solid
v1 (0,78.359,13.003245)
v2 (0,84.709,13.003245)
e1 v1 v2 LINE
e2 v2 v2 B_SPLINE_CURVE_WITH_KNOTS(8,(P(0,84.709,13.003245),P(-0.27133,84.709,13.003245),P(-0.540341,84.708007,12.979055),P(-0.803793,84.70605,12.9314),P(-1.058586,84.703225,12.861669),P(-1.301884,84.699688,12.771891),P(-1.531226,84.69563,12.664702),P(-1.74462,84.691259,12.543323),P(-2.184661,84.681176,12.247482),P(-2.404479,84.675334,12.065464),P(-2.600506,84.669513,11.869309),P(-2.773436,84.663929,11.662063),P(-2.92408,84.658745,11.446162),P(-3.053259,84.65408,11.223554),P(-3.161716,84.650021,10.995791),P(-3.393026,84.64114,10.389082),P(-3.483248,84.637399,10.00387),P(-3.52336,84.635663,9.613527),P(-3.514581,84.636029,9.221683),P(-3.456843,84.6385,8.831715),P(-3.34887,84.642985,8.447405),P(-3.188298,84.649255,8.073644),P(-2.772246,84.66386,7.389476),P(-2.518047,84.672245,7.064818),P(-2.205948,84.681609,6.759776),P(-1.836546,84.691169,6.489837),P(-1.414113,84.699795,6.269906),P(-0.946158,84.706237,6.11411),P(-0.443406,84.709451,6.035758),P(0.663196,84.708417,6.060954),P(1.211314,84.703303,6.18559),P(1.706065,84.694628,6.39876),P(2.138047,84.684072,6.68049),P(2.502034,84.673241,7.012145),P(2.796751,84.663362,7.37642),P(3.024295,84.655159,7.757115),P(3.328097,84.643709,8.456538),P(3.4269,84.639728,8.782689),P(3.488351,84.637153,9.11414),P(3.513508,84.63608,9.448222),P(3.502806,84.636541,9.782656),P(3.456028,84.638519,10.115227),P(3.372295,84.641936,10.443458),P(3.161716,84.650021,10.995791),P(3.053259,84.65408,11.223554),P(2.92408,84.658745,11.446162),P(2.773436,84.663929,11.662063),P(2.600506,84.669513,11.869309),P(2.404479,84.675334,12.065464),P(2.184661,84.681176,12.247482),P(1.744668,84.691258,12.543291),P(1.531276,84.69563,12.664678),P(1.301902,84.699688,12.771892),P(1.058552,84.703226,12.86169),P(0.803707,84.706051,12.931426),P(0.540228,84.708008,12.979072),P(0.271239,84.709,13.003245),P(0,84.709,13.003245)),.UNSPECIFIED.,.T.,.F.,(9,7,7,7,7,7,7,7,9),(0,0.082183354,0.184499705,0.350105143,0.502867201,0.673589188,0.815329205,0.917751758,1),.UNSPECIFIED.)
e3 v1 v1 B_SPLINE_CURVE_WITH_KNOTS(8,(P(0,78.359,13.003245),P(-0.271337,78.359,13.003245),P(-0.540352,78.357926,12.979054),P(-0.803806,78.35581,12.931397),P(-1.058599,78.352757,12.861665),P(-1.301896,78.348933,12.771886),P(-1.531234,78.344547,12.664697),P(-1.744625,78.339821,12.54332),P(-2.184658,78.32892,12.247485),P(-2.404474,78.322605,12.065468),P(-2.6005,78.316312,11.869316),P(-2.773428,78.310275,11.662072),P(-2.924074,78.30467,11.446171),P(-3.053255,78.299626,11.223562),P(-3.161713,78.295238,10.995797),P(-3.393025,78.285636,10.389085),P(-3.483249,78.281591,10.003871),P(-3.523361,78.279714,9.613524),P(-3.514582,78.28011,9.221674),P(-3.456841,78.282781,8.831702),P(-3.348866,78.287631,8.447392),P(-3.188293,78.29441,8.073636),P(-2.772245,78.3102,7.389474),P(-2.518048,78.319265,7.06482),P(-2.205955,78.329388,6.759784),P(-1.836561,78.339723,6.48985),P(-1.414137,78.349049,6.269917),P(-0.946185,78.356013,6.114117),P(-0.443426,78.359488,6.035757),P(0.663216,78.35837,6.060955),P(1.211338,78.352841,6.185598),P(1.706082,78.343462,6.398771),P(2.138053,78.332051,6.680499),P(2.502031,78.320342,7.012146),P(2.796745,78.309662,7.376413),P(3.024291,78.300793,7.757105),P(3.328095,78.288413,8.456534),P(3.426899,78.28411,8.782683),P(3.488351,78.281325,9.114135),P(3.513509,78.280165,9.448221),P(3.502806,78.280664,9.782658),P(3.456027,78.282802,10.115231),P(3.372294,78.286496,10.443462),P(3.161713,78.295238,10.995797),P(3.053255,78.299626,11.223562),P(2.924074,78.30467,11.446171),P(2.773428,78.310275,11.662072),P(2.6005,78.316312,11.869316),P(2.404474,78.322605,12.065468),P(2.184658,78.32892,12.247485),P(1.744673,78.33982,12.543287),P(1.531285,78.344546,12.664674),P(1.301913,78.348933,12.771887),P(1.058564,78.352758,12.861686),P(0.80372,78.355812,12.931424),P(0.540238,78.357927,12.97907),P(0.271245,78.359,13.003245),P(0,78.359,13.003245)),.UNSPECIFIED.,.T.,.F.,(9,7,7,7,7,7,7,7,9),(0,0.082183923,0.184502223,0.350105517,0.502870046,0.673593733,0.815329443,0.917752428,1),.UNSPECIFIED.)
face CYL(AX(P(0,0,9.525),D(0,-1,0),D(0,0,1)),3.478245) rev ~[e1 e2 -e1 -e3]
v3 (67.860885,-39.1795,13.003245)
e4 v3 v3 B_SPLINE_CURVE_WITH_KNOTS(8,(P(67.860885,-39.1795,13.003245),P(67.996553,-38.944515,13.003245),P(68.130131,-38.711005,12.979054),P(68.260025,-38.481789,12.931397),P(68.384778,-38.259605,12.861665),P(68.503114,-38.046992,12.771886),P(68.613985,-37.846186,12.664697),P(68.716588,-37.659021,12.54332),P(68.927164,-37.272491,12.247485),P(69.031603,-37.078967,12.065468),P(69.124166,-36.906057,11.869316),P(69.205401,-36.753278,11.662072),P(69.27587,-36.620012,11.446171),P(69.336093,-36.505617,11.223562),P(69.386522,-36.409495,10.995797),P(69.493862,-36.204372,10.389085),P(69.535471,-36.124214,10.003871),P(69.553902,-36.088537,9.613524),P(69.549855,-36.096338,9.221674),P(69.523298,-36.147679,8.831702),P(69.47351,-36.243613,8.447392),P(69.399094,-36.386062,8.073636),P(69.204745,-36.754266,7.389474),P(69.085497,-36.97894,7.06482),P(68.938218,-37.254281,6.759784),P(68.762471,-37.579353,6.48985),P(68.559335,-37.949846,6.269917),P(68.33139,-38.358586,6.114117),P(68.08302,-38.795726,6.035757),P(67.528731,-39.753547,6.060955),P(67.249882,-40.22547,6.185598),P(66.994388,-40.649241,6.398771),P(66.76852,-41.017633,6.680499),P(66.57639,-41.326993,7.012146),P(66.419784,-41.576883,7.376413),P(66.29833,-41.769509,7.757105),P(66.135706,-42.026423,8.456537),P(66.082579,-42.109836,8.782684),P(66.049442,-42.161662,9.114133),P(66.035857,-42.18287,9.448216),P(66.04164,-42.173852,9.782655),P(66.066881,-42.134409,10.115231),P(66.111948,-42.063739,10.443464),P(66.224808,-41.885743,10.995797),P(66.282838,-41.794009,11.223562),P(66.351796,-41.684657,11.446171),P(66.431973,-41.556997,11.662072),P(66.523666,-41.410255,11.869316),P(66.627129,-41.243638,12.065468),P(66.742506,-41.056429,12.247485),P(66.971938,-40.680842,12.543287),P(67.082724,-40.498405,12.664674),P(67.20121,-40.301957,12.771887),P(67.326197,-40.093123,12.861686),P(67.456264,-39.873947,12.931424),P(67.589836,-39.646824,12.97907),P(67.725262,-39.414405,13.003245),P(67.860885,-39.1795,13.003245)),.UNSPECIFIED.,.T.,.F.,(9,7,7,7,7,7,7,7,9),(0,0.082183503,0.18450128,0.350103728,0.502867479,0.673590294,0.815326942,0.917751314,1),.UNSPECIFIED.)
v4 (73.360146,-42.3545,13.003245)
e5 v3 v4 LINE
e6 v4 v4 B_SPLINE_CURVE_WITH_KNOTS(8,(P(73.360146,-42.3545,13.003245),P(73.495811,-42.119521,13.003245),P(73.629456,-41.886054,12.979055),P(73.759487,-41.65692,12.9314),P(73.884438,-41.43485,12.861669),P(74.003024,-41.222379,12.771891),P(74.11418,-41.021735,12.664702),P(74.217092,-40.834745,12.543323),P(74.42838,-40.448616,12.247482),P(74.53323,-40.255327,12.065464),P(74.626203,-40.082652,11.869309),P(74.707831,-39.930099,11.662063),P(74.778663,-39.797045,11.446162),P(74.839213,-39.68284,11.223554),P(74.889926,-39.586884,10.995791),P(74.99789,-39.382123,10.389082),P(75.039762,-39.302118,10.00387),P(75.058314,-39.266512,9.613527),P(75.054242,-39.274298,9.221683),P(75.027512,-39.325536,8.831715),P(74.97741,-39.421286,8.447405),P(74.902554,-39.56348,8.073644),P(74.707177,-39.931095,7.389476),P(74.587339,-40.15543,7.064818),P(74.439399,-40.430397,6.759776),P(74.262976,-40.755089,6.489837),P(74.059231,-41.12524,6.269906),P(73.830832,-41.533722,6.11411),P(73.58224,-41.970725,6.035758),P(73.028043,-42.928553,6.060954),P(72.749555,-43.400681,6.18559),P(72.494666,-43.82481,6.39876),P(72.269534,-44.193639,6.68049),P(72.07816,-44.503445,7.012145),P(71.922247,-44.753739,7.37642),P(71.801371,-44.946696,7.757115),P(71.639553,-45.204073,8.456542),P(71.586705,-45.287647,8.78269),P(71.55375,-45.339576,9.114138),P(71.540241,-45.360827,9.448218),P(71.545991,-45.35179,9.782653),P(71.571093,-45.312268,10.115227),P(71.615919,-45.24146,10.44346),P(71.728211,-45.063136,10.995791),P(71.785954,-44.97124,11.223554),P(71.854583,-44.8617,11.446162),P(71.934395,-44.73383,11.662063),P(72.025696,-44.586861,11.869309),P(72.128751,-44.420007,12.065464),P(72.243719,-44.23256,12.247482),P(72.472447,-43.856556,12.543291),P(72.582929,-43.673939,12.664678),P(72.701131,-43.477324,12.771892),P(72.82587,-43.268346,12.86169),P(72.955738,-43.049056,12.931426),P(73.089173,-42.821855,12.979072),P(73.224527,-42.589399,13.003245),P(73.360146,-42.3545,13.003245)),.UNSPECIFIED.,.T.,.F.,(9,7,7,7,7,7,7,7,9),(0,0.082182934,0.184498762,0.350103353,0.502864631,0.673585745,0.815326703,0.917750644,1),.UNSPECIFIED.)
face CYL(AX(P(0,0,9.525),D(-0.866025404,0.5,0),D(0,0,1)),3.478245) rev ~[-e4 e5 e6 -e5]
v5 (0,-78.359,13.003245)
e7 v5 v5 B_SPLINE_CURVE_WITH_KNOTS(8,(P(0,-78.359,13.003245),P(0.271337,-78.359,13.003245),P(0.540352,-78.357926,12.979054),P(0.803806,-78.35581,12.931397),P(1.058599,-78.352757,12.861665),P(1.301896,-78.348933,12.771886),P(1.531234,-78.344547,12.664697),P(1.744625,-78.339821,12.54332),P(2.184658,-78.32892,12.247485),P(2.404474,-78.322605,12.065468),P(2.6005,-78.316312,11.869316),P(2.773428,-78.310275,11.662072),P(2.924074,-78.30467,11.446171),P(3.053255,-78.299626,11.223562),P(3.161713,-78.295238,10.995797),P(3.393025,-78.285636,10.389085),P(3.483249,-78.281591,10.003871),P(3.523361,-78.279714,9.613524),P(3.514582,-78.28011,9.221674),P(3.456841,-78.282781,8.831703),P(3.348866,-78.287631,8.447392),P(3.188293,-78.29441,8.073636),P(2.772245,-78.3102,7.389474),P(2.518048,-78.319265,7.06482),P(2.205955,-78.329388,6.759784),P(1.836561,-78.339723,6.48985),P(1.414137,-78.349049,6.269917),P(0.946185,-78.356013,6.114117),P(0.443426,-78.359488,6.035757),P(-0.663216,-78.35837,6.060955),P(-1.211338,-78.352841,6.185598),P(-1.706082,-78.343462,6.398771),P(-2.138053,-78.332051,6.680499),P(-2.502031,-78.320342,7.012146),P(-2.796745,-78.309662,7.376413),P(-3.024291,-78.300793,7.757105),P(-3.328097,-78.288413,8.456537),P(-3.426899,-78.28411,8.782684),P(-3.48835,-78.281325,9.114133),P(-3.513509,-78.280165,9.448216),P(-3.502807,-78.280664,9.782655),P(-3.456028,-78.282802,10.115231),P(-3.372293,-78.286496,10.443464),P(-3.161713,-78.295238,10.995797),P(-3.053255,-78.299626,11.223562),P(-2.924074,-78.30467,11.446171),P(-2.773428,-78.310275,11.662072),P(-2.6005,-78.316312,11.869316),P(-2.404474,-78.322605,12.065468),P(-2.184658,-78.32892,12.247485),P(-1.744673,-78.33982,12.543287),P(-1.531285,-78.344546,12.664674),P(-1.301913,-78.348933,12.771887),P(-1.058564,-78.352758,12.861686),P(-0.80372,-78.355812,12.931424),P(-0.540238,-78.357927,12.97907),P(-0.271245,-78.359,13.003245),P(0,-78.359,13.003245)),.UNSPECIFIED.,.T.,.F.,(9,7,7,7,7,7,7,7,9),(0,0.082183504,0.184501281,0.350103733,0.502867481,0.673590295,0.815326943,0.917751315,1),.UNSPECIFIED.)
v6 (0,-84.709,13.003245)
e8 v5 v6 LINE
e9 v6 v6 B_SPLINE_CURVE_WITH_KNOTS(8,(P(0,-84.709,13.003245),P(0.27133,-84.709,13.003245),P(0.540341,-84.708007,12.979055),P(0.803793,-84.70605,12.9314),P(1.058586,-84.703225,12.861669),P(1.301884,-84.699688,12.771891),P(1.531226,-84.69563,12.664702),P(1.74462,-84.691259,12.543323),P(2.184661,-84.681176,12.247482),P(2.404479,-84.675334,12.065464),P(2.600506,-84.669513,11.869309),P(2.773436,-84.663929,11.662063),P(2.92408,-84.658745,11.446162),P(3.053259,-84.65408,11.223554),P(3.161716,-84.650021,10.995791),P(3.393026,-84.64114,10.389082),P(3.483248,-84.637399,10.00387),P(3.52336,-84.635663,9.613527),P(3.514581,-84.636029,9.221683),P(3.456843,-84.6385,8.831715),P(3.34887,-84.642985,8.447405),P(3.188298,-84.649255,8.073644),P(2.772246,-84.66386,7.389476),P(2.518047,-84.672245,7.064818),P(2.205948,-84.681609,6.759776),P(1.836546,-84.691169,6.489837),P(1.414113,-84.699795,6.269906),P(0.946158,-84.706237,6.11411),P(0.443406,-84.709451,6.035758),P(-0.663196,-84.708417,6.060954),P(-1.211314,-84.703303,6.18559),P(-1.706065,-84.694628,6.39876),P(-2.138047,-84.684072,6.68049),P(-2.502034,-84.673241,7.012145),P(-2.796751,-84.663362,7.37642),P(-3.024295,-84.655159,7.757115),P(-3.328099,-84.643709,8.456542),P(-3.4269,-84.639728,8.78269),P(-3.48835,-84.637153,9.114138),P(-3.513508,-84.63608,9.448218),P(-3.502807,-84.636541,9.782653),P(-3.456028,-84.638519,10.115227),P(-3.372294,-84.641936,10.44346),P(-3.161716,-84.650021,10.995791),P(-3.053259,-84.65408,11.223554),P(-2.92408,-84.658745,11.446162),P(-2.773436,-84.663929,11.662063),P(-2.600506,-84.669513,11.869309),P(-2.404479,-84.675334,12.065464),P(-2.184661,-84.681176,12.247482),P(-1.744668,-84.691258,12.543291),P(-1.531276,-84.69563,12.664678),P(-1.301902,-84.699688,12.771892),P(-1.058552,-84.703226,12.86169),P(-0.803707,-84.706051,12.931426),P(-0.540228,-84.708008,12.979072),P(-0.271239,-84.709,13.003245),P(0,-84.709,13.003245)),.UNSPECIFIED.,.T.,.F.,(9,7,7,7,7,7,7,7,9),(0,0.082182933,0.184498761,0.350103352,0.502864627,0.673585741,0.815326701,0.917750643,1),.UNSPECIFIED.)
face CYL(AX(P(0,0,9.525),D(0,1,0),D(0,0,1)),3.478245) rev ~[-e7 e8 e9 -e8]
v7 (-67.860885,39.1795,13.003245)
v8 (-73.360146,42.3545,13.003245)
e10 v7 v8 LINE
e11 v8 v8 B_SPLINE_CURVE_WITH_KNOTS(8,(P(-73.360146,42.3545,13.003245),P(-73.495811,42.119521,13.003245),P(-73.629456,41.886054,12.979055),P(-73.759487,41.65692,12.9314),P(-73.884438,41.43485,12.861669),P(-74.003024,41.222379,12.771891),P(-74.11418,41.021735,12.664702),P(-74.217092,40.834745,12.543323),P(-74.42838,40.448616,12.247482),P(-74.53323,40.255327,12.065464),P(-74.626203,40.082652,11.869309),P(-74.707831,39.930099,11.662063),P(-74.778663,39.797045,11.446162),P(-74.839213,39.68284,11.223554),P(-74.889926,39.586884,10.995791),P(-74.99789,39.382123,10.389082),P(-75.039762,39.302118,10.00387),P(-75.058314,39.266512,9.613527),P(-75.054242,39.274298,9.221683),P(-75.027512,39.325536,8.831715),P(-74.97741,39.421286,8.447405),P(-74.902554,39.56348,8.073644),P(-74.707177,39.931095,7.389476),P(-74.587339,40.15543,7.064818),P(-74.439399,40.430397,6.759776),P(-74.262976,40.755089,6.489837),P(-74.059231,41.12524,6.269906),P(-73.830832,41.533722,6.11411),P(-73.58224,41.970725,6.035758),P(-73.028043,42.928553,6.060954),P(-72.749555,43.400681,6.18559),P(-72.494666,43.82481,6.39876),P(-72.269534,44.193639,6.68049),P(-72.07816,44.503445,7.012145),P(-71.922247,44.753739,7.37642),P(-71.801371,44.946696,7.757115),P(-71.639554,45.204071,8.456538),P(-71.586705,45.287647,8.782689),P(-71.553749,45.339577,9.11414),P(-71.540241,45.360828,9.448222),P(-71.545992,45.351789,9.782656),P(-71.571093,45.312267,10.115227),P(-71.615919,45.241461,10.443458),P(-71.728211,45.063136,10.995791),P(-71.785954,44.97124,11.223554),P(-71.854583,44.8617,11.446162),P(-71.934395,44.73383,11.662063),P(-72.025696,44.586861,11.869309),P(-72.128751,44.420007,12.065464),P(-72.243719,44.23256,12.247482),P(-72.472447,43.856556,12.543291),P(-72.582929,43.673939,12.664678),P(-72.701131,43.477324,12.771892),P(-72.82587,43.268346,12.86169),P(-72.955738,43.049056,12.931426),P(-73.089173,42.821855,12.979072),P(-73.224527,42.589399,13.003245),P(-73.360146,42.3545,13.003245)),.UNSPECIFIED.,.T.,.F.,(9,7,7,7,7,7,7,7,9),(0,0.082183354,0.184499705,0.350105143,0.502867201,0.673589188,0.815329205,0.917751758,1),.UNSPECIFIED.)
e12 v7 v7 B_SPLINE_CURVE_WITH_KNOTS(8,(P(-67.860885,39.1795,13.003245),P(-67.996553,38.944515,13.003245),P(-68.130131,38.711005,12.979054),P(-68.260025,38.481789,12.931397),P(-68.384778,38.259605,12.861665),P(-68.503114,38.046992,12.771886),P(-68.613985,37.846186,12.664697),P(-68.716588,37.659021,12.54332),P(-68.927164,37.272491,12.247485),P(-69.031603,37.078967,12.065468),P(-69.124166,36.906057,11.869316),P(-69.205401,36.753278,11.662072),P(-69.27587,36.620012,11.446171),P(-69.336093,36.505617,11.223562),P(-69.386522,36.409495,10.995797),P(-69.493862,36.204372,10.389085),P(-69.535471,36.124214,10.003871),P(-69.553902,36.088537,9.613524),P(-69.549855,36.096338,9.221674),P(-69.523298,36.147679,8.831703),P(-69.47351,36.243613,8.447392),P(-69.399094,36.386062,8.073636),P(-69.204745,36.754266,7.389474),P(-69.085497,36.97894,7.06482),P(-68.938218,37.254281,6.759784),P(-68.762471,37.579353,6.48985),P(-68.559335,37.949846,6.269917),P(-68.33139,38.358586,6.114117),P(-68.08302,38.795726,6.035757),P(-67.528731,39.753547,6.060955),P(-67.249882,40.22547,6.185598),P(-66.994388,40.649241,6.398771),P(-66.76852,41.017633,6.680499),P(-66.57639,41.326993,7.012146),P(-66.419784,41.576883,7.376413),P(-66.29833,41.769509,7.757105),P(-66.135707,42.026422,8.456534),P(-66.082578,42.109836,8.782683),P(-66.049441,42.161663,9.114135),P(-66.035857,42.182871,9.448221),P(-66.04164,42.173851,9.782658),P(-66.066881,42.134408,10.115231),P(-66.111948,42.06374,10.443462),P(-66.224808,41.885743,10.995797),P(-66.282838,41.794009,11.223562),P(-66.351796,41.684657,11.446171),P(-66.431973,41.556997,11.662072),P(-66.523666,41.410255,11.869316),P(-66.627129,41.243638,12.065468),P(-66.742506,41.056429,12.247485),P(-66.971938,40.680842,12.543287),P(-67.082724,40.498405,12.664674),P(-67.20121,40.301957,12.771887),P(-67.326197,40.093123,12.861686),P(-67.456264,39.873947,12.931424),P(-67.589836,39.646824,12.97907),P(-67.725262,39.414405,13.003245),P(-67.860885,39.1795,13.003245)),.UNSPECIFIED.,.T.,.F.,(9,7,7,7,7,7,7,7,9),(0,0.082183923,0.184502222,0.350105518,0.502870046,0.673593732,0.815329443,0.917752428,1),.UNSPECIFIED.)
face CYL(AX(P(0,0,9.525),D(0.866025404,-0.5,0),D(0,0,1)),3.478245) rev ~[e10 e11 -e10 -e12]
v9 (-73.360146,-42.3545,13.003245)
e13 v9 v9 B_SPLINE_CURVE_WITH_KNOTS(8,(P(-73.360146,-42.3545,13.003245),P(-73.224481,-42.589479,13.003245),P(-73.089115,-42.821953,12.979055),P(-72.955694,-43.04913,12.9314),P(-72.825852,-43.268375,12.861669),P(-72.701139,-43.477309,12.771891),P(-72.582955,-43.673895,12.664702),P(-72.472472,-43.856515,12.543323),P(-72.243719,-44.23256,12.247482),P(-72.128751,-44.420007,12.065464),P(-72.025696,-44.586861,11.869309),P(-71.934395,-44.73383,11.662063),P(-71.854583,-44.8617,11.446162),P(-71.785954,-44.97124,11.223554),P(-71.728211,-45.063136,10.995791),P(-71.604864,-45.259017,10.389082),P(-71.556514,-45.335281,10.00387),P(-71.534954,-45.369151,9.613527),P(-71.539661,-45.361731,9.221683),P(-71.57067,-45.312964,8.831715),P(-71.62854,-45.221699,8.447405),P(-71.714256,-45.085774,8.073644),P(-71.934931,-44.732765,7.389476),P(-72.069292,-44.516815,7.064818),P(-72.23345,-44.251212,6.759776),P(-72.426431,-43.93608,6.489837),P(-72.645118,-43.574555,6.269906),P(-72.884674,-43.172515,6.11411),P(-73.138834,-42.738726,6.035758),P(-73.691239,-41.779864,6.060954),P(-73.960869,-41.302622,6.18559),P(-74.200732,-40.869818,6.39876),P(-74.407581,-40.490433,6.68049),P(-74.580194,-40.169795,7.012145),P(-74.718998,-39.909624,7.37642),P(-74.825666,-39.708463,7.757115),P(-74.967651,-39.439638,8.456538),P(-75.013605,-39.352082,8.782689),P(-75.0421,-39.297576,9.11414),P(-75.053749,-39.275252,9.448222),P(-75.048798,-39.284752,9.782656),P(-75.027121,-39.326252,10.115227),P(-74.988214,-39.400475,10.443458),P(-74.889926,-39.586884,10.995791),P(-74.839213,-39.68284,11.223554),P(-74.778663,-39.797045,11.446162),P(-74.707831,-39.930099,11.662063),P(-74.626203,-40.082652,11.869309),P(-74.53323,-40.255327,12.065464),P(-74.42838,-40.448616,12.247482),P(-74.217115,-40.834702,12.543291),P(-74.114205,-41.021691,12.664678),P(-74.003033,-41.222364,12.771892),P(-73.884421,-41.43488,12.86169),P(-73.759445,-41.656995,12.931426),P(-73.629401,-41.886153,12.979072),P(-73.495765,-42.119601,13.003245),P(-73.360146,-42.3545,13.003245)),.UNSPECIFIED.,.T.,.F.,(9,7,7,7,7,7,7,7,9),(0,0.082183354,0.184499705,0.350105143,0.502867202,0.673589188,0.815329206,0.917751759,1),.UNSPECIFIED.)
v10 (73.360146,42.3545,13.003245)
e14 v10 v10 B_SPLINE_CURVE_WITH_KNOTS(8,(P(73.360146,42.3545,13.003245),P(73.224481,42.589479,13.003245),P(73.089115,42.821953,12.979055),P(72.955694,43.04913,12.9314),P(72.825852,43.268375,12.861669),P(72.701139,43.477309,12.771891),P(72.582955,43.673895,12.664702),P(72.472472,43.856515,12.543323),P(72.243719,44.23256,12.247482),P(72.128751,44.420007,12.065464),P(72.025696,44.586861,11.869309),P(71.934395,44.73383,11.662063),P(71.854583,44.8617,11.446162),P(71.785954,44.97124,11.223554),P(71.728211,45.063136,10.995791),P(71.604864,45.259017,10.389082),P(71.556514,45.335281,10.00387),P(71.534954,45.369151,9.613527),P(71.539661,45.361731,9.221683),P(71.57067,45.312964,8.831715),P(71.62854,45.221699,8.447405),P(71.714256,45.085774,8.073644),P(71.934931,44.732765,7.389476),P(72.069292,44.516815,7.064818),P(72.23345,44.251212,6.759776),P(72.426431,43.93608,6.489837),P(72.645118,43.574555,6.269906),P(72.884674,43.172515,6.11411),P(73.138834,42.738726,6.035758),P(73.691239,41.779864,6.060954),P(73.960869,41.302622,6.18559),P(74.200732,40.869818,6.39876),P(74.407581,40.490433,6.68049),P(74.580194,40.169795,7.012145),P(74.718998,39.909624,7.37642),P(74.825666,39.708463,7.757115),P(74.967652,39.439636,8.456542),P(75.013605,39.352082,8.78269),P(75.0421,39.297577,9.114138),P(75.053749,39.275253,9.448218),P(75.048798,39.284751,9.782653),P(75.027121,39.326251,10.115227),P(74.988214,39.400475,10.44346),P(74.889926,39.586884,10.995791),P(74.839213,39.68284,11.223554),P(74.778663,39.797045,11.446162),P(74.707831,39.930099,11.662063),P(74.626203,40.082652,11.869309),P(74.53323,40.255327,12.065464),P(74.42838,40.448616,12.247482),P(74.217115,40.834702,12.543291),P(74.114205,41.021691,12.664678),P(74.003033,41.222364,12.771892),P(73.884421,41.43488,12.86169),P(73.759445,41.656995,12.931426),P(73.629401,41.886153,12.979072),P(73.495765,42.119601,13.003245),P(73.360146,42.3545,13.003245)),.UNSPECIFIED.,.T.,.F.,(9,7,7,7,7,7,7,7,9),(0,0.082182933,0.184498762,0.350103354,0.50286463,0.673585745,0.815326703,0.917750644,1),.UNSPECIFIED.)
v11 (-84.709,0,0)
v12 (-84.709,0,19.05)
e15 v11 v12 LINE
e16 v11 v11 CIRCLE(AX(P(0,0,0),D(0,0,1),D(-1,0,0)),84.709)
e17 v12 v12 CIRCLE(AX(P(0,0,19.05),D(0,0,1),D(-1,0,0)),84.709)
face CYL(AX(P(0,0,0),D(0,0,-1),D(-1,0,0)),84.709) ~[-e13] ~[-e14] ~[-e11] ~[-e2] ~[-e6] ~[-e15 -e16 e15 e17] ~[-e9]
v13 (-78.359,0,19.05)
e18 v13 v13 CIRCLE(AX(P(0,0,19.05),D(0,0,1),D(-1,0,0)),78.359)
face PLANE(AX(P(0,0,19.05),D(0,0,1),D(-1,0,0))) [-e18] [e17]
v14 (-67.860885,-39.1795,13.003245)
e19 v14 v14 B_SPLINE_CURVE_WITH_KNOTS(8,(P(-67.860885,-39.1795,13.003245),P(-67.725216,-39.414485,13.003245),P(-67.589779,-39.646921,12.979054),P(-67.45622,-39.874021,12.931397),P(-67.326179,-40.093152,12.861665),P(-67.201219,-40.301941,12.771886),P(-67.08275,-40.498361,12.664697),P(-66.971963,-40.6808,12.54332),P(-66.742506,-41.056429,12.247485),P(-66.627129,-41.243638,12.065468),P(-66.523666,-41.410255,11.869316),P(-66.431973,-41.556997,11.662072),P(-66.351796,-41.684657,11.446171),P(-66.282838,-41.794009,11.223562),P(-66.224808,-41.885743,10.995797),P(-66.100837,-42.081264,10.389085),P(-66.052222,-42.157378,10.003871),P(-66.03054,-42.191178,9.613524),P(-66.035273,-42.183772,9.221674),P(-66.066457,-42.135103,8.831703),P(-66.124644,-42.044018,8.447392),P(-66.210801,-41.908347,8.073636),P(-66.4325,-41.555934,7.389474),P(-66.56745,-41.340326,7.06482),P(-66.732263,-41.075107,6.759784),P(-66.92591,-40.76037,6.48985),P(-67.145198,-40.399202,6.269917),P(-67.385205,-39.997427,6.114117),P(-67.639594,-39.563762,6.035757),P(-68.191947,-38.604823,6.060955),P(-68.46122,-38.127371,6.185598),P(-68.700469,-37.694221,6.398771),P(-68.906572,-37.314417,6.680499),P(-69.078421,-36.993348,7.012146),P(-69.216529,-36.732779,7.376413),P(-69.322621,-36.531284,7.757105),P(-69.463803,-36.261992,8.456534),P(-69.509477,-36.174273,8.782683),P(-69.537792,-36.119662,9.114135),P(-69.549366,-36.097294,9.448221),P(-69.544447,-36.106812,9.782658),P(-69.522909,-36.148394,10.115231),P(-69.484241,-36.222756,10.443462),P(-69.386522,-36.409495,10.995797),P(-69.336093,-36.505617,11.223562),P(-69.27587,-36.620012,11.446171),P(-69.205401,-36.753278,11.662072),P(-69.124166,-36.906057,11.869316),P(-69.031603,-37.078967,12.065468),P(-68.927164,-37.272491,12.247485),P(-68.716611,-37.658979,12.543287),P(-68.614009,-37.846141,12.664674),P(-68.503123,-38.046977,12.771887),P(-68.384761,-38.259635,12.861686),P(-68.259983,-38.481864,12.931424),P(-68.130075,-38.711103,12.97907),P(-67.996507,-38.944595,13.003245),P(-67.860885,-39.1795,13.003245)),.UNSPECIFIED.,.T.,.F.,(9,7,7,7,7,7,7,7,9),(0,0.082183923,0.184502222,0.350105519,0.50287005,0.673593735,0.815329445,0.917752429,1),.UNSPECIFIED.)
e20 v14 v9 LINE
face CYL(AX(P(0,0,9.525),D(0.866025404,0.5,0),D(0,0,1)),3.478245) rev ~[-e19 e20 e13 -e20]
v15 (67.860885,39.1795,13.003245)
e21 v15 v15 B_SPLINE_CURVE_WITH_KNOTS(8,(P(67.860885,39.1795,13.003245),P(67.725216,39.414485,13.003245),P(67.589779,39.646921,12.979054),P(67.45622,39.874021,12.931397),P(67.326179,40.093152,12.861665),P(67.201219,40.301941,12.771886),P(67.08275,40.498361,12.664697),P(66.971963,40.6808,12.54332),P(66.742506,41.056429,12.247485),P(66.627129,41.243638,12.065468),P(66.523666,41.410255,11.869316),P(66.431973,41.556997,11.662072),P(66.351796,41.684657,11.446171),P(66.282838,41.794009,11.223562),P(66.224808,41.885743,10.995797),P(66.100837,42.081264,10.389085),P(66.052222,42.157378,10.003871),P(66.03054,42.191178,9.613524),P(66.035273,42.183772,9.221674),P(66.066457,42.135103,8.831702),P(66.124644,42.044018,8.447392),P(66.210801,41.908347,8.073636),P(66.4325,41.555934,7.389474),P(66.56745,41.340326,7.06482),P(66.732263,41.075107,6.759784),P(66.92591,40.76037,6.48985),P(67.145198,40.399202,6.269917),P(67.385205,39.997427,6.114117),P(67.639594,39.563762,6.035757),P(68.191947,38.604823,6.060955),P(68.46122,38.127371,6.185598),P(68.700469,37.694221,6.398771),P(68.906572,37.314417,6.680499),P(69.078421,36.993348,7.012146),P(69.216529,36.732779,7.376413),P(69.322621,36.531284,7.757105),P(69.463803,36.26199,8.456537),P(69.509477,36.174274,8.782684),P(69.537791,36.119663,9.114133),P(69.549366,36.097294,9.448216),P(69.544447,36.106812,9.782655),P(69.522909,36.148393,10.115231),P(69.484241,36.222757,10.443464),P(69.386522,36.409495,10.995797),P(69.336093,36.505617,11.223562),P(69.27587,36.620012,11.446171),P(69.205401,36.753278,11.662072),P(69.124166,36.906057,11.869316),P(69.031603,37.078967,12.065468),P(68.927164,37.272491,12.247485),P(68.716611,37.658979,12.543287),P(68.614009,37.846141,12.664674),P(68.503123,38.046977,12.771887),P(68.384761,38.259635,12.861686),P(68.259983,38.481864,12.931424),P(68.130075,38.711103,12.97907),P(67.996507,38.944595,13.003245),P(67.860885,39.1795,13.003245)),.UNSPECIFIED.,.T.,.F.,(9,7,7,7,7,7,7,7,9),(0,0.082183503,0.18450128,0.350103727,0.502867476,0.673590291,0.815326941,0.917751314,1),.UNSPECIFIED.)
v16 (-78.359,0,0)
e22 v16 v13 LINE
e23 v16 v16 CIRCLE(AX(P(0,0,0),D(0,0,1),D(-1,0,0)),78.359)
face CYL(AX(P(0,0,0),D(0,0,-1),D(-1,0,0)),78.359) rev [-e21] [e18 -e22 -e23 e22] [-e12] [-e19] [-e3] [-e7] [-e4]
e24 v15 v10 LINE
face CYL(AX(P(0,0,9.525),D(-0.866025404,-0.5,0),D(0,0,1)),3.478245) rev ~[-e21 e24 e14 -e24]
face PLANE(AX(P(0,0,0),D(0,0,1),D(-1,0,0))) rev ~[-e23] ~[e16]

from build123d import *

# Parameters (mm, degrees)
SKETCH1_R           = 84.709
SKETCH1_R_2         = 78.359
BOSS_EXTRUDE1_DEPTH = 19.05
SKETCH2_R           = 3.478244762
CUT_EXTRUDE1_DEPTH  = 122.301821347
CIRPATTERN1_COUNT   = 6


with BuildPart() as part:
    # Sketch1 → Boss-Extrude1 (new body)
    with BuildSketch(Plane.XY):
        with Locations(Location((0, 0, 0), (0, 0, 180))):
            Circle(SKETCH1_R)
        with Locations(Location((0, 0, 0), (0, 0, 180))):
            Circle(SKETCH1_R_2, mode=Mode.SUBTRACT)
    extrude(amount=BOSS_EXTRUDE1_DEPTH)

    # Sketch2 → Cut-Extrude1 (cut, through all)
    with BuildSketch(Plane(origin=(0, 0, 0), x_dir=(1, 0, 0), z_dir=(0, 1, 0))):
        with Locations(Location((0, -9.525, 0), (0, 0, 270))):
            Circle(SKETCH2_R)
    cut_extrude1 = extrude(amount=-CUT_EXTRUDE1_DEPTH, mode=Mode.SUBTRACT)

    # CirPattern1: Cut-Extrude1 ×6 about axis
    cirpattern1_axis = Axis((0, 0, 2.080715754), (0, 0, 1))
    for i in range(1, CIRPATTERN1_COUNT):
        add(cut_extrude1.rotate(cirpattern1_axis, i * 360 / CIRPATTERN1_COUNT), mode=Mode.SUBTRACT)


solid = part.part
